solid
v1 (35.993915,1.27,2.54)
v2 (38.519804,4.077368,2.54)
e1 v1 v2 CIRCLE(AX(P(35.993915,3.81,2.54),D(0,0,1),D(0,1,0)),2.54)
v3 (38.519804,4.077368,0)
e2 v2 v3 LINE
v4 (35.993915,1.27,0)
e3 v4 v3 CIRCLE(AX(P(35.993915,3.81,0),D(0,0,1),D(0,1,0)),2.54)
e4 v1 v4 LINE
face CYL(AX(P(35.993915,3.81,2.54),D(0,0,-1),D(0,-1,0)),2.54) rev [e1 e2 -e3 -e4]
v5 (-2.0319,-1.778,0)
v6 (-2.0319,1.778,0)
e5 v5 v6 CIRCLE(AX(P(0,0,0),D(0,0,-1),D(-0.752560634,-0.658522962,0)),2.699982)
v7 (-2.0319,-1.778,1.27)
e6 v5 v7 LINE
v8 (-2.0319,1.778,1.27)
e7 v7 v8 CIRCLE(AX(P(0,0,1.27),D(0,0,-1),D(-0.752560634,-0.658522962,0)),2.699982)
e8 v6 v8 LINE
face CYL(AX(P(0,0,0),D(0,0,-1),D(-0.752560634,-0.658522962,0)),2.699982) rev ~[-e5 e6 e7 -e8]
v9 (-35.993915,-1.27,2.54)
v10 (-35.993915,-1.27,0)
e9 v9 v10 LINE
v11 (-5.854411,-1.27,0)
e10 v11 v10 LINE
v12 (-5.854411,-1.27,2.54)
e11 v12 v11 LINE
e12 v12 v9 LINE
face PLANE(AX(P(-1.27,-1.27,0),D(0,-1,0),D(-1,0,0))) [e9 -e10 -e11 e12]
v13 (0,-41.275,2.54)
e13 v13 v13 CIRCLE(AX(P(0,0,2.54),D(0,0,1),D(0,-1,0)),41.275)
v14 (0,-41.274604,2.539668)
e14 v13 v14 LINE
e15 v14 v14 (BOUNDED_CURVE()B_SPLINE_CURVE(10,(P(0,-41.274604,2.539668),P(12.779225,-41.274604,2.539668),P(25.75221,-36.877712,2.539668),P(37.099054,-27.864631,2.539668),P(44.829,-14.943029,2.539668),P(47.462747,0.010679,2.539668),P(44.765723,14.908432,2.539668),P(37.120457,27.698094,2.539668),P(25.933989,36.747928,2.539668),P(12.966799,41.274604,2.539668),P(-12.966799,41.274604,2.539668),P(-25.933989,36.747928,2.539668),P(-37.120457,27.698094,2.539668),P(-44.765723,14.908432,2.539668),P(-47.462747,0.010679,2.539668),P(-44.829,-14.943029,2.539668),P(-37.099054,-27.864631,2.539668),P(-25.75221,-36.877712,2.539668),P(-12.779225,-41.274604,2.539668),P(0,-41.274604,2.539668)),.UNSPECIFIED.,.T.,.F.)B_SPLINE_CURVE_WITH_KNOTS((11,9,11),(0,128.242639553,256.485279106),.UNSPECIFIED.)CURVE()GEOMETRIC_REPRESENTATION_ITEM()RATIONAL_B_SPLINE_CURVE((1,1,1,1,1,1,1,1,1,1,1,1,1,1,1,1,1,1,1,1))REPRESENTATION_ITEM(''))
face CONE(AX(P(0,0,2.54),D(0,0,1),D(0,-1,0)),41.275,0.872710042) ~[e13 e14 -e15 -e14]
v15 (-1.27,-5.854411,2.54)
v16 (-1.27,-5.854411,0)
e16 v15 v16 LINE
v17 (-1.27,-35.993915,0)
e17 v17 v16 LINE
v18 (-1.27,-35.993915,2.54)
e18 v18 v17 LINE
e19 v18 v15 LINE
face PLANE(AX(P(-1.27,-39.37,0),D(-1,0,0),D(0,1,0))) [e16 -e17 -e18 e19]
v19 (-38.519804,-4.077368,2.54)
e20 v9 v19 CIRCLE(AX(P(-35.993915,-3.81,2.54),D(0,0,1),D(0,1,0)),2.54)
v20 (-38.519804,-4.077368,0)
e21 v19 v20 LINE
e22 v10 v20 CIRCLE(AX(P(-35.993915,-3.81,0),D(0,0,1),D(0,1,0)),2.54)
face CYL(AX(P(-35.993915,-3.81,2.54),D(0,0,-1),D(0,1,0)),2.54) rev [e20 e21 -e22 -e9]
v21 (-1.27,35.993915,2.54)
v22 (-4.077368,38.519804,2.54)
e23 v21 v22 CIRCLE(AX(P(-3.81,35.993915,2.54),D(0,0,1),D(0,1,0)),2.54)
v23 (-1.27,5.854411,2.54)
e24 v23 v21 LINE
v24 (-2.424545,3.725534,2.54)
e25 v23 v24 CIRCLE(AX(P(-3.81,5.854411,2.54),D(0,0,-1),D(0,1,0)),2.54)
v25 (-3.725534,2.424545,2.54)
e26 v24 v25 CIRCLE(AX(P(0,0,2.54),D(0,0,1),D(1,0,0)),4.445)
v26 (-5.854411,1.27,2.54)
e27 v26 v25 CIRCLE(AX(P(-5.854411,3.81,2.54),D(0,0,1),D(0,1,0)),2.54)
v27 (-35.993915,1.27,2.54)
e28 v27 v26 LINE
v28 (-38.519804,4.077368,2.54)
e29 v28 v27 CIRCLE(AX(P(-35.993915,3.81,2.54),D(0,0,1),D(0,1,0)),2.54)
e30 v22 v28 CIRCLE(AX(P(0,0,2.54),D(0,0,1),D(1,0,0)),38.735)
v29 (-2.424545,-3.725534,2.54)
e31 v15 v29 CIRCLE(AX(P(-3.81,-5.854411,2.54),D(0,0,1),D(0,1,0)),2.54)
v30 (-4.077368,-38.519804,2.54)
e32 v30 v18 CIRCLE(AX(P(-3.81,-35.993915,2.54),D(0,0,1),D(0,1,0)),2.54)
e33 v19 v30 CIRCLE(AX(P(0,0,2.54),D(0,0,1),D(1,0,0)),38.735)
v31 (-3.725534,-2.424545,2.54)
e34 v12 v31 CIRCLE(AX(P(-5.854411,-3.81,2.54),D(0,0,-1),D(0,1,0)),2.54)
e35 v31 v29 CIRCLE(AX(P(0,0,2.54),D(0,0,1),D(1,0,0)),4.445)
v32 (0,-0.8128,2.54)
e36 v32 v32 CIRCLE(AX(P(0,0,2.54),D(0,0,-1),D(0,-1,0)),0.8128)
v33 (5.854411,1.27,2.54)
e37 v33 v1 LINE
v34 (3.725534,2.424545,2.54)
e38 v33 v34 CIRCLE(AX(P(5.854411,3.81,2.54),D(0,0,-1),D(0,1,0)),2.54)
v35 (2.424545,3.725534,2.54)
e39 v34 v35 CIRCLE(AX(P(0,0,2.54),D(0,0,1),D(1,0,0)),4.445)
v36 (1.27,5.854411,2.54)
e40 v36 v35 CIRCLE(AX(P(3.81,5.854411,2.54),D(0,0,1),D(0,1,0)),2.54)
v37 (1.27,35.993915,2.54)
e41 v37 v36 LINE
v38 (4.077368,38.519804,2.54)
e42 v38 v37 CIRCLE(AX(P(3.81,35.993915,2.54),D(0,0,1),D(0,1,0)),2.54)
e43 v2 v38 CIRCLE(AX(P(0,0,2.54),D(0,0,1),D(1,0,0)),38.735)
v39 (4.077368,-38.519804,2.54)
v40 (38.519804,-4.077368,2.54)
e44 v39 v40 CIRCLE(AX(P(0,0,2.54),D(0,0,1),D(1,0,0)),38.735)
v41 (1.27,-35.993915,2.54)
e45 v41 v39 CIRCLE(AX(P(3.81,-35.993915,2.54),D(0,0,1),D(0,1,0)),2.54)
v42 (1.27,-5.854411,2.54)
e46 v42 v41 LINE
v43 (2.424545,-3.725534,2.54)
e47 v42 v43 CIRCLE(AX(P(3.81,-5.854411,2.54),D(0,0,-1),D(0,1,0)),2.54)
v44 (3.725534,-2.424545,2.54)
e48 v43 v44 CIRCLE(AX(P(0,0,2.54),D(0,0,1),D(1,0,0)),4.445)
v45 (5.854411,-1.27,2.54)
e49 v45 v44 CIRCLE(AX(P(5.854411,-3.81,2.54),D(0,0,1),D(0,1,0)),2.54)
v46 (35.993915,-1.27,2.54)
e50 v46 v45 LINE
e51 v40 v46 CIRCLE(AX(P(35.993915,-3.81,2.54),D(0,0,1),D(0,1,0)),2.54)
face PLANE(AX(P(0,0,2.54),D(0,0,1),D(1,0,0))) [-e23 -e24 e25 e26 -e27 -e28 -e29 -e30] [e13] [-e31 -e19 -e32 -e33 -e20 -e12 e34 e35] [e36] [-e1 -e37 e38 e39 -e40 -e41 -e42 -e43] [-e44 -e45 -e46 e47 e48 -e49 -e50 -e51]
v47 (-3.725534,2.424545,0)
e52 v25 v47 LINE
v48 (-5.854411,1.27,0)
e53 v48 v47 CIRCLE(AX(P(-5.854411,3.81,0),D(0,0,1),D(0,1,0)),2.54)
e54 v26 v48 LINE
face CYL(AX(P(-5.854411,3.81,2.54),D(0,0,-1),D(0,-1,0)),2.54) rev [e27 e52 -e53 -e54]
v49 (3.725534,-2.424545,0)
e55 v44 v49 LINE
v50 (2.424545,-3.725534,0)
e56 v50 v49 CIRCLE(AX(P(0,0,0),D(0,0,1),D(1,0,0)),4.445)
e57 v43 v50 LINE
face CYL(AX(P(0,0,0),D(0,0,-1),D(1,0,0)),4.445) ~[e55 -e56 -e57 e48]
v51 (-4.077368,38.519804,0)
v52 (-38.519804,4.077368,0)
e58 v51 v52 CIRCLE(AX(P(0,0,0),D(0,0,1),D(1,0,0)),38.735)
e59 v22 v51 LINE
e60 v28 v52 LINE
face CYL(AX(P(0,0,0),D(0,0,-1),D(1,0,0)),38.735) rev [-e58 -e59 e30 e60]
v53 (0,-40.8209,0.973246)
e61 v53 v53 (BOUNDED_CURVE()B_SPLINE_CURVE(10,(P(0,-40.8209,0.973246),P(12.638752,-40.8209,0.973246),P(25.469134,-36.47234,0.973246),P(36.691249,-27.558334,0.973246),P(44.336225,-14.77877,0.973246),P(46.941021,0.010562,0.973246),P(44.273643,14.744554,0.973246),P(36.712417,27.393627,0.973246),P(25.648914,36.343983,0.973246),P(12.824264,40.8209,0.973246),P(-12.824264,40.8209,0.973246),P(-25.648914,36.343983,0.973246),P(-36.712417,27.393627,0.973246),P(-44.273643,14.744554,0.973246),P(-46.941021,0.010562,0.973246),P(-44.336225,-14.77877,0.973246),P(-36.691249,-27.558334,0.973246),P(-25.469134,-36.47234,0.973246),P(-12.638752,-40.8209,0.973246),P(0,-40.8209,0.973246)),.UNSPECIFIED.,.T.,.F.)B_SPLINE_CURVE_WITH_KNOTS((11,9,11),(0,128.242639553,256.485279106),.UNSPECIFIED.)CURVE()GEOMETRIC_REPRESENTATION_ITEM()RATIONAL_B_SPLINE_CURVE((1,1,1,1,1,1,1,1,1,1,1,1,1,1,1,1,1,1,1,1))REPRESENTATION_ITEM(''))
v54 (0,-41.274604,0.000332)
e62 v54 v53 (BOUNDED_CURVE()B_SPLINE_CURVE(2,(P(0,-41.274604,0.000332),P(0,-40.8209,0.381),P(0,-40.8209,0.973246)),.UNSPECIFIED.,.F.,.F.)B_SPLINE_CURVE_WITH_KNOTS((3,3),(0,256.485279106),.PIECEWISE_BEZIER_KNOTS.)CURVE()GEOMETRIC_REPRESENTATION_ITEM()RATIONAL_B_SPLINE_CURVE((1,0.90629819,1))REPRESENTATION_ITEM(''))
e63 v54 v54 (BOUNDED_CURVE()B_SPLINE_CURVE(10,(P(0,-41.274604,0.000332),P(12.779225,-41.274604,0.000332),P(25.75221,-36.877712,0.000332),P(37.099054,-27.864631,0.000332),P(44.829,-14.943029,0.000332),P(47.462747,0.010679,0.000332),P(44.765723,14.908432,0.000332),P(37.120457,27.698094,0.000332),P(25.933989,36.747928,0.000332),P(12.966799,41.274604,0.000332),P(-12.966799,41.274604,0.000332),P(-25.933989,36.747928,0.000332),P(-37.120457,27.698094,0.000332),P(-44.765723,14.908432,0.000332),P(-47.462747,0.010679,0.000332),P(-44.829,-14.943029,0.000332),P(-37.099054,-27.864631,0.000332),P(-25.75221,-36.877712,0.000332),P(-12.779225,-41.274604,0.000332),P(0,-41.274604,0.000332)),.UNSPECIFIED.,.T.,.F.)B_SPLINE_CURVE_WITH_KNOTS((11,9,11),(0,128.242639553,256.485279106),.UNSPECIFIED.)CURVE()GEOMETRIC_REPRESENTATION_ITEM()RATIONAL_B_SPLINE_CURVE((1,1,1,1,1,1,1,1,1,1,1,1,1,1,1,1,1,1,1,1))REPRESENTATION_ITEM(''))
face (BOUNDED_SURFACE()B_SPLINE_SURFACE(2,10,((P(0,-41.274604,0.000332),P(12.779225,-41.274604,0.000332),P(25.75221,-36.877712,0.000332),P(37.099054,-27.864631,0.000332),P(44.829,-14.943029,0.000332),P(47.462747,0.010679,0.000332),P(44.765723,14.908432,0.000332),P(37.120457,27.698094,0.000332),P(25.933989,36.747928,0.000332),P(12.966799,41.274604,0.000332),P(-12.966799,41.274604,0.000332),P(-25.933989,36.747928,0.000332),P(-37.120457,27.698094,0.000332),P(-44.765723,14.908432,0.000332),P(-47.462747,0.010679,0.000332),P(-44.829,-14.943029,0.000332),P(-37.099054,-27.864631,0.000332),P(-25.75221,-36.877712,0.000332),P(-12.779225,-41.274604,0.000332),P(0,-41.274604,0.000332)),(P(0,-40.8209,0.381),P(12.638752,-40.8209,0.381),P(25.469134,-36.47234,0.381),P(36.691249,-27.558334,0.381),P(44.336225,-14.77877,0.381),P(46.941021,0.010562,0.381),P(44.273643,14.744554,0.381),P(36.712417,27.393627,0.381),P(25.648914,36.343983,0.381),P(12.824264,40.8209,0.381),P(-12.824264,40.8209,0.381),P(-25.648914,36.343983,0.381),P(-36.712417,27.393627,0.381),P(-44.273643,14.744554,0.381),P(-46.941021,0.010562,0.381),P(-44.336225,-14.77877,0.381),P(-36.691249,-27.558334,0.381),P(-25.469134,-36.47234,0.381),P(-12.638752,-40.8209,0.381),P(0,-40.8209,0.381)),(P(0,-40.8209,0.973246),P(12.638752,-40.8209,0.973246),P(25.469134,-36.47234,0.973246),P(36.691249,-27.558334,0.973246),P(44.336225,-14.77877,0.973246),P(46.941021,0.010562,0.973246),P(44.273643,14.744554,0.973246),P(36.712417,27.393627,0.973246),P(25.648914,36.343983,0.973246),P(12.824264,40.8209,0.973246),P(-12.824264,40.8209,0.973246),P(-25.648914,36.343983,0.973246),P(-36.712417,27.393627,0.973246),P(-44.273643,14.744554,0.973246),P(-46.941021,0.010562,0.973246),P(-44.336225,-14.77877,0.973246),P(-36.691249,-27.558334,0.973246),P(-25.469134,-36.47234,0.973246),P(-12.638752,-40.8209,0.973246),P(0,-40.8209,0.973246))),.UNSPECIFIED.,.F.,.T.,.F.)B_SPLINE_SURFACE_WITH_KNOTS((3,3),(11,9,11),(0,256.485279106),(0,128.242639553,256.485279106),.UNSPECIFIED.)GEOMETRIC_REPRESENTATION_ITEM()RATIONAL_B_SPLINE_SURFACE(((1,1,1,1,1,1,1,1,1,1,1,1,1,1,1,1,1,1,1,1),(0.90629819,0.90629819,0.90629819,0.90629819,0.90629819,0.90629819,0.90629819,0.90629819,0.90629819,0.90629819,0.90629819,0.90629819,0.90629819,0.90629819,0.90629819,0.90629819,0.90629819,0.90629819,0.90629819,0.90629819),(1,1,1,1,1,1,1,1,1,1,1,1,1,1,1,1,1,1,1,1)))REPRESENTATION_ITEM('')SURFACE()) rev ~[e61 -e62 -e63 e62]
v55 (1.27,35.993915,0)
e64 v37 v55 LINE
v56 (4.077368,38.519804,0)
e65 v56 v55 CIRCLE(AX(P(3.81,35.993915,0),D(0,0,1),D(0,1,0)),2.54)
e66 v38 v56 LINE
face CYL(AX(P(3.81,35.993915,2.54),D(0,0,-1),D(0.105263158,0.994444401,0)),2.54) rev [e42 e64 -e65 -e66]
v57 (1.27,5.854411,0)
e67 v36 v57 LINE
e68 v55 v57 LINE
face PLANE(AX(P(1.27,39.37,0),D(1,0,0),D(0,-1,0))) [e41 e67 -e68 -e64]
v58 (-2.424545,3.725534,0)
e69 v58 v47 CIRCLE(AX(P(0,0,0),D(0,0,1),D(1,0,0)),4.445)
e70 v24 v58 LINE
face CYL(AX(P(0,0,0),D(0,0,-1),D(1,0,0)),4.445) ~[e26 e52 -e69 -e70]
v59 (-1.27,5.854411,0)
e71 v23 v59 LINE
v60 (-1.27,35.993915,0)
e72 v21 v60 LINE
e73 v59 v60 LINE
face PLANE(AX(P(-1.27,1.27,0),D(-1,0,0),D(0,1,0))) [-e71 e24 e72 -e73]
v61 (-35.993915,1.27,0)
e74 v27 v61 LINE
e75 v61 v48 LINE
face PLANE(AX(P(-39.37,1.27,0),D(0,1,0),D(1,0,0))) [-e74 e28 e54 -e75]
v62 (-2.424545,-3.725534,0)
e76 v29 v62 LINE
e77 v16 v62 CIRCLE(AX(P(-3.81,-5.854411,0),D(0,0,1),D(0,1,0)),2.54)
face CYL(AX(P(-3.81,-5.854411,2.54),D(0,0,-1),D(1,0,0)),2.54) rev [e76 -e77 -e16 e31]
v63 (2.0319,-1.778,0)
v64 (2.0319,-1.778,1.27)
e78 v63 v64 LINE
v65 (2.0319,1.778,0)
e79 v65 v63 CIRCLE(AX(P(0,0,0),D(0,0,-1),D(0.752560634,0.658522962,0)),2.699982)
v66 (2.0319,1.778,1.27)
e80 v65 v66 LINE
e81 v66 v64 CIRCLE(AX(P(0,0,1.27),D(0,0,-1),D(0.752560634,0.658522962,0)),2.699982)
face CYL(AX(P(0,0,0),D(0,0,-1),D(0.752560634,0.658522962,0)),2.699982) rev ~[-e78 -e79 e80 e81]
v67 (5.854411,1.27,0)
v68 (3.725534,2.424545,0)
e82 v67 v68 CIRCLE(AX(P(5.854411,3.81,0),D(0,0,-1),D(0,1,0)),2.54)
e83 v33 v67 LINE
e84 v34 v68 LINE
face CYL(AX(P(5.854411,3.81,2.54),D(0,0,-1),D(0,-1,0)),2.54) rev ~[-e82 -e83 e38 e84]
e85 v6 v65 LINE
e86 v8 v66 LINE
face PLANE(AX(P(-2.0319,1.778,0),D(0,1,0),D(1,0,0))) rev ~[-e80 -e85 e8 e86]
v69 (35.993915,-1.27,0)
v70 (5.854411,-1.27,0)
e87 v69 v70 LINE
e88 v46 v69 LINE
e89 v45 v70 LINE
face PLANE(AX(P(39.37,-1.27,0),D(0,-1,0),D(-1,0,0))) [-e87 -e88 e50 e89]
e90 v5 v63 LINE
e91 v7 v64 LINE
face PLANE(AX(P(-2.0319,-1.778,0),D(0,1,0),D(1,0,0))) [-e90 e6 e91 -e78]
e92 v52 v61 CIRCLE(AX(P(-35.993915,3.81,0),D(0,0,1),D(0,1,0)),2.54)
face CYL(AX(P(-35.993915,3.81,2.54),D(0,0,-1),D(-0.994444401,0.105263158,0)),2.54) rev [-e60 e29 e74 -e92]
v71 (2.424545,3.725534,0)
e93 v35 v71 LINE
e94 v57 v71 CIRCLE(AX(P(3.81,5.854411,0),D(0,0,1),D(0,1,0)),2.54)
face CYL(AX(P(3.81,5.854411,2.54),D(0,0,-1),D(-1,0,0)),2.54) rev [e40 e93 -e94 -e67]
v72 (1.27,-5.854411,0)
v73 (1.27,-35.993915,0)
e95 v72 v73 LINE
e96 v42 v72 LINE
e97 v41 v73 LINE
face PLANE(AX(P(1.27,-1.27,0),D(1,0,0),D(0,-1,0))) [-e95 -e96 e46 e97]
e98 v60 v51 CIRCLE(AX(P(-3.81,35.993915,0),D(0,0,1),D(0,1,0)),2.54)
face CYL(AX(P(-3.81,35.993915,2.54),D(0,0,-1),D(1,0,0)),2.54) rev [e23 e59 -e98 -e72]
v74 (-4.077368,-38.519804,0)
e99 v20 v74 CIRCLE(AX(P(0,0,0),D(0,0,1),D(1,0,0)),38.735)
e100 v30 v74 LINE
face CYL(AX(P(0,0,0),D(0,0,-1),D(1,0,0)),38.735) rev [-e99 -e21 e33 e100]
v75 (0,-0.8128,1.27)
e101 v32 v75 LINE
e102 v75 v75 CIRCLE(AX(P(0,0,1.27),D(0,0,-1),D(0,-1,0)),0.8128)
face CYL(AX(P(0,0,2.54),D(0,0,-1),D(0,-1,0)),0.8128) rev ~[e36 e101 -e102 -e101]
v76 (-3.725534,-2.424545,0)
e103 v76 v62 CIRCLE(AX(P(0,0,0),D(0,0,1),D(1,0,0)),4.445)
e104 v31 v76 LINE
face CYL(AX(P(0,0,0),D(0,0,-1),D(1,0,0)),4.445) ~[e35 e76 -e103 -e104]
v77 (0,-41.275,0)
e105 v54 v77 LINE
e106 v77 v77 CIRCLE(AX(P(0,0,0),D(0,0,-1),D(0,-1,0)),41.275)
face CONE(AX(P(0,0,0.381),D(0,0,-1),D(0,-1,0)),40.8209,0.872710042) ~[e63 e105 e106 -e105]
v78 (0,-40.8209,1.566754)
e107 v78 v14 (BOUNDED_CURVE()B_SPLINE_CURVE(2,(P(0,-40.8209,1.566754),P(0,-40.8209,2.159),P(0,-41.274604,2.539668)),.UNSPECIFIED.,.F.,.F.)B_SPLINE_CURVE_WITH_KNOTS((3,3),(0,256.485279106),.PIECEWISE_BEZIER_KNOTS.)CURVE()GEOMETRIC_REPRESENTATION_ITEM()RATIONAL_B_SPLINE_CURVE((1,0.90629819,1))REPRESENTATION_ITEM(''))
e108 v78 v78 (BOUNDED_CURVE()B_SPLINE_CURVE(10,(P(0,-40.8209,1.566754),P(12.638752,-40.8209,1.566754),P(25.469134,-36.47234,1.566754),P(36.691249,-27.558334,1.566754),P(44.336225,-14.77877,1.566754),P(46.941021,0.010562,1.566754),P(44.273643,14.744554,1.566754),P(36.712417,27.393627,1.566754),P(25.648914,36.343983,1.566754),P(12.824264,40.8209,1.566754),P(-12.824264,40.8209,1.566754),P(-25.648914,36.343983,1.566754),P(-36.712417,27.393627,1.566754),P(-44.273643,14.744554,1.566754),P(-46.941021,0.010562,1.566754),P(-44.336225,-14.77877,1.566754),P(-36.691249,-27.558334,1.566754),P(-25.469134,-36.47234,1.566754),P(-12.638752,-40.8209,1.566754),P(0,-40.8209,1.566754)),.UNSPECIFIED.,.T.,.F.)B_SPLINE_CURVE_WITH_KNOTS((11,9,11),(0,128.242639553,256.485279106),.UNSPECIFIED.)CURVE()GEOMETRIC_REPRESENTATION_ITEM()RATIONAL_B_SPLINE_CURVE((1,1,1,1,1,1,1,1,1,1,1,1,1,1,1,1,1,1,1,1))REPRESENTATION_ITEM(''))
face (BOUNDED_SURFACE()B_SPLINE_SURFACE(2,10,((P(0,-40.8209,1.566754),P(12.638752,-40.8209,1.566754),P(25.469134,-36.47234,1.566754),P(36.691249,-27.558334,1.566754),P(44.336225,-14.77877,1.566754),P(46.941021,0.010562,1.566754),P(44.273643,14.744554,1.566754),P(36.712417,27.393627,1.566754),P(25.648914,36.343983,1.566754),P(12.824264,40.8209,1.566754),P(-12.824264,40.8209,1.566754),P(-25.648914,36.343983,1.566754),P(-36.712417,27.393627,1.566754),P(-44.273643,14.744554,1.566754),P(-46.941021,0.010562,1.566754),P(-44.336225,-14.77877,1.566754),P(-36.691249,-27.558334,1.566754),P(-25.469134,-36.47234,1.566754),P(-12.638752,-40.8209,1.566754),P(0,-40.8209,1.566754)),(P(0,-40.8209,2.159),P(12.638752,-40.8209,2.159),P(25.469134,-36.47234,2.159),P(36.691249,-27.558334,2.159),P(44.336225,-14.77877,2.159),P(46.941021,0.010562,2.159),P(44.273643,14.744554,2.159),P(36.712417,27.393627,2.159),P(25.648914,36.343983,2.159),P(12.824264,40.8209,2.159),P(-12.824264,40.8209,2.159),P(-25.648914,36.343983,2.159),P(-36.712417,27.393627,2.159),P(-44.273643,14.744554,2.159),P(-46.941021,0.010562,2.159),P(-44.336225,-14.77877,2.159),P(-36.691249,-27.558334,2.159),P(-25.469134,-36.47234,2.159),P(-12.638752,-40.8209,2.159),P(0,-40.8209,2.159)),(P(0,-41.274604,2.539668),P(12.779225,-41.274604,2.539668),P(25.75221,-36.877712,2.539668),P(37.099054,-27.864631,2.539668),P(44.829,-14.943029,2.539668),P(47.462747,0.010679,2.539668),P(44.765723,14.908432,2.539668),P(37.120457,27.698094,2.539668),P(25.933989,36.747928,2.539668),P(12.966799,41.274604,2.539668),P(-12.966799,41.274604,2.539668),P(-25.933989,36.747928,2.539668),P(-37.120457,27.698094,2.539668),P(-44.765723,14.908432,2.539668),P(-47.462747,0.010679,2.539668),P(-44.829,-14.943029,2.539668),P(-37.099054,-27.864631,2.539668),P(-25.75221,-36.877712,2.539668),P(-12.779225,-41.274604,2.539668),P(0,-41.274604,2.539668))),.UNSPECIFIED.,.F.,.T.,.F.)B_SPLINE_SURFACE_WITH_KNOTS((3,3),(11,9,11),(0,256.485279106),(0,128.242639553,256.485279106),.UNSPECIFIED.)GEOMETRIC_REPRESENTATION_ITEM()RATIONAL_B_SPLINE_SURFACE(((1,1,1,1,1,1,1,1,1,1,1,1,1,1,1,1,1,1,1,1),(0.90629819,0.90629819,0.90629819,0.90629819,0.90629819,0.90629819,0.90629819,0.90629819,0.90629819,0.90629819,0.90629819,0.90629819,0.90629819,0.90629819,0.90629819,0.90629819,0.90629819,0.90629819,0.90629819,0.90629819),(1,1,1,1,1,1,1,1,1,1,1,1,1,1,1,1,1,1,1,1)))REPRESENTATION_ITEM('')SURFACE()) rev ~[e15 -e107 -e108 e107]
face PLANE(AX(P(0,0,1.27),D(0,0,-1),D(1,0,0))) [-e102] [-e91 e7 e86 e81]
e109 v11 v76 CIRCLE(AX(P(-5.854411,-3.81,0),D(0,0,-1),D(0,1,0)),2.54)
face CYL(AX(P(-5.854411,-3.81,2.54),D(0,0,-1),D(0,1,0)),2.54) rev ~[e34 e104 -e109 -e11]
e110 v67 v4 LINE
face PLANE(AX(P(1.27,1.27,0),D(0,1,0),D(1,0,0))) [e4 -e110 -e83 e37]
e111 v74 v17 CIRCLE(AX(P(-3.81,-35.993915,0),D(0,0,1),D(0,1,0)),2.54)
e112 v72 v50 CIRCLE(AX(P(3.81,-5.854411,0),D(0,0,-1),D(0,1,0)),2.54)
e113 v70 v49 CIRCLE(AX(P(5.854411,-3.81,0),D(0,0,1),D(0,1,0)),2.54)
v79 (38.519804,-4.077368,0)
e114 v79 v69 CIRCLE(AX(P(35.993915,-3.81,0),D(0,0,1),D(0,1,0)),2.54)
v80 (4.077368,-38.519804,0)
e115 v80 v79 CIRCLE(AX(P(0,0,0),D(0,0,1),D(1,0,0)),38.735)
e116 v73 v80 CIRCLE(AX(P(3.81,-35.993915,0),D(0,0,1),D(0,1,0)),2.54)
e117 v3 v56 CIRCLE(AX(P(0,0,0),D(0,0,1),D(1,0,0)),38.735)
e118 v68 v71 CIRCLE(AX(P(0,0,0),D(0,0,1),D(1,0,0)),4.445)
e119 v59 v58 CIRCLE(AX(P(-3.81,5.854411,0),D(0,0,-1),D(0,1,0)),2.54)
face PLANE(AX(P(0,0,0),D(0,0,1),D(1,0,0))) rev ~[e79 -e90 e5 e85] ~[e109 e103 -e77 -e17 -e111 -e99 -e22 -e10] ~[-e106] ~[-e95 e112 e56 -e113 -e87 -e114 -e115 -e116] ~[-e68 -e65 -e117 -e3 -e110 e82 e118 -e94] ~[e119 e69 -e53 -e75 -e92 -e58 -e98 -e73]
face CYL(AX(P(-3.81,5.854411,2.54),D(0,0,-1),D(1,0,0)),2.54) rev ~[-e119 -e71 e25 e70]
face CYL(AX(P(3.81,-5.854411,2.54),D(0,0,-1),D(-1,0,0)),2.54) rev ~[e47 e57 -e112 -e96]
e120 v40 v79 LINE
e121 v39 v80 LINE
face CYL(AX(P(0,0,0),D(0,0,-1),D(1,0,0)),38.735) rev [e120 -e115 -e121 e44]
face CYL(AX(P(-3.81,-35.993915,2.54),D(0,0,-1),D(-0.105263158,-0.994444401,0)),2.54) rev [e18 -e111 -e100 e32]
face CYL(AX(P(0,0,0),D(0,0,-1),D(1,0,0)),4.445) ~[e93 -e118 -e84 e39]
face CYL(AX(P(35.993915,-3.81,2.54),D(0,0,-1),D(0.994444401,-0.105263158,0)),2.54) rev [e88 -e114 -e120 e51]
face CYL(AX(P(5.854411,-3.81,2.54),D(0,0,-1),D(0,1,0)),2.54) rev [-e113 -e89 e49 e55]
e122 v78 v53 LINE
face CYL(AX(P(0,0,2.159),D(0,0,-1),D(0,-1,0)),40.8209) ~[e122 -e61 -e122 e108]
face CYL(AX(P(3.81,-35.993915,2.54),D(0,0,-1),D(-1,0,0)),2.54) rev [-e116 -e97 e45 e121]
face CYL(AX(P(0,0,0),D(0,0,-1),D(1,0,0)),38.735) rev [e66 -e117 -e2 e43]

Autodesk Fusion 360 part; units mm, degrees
sketch "Sketch1" plane through (0, 0, 0) normal (0, 0, 1) x (1, 0, 0)
  circle A0 centre (0, 0) radius 41.275
  circle A1 centre (0, 0) radius 38.735
  circle A2 centre (0, 0) radius 4.445
  dimension "d1" = 82.55
  dimension "d2" = 77.47
  dimension "d5" = 8.89
extrude "Extrude1" add sketch "Sketch1" along normal blind 2.54 makes body 1 at (41.2237, -2.0574, 1.6933) makes body 2 at (4.4229, -0.4426, 0.8467)
sketch "Sketch4" plane through (0, 0, 0) normal (0, 0, 1) x (1, 0, 0)
  line L0 (-1.27, 39.37) -> (1.27, 39.37)
  line L1 (1.27, 39.37) -> (1.27, 1.27)
  line L2 (1.27, 1.27) -> (-1.27, 1.27)
  line L3 (-1.27, 1.27) -> (-1.27, 39.37)
  dimension "d12" = 2.54
  dimension "d13" = 1.27
  dimension "d14" = 38.1
  dimension "d15" = 1.27
extrude "Extrude3" add sketch "Sketch4" along normal blind 2.54 separate body makes body 3
pattern_circular "C-Pattern1" count 4 over 360 about axis through (0, 0, 1.75) along (0, 0, 1) of bodies 3 makes body 4 at (-26.67, 1.27, 0.8467) makes body 5 at (-1.27, -26.67, 0.8467) makes body 6 at (26.67, -1.27, 0.8467)
combine "Combine1" operation add target body 3 tool bodies 1 2 6 5 4
fillet "Fillet1" radius 2.54 8 edges at (4.2597, 1.27, 1.27) (1.27, 4.2597, 1.27) (-1.27, 4.2597, 1.27) (-4.2597, 1.27, 1.27) (-4.2597, -1.27, 1.27) (-1.27, -4.2597, 1.27) (1.27, -4.2597, 1.27) (4.2597, -1.27, 1.27) on bodies 3
fillet "Fillet2" radius 2.54 8 edges at (1.27, -38.7142, 1.27) (-1.27, -38.7142, 1.27) (-38.7142, -1.27, 1.27) (-38.7142, 1.27, 1.27) (-1.27, 38.7142, 1.27) (1.27, 38.7142, 1.27) (38.7142, 1.27, 1.27) (38.7142, -1.27, 1.27) on bodies 3
sketch "Sketch5" plane through (0, 0, 0) normal (1, 0, 0) x (0, 1, 0)
  line L0 (-41.275, 2.54) -> (-40.8209, 2.159)
  line L1 (-40.8209, 2.159) -> (-40.8209, 0.381)
  line L2 (-40.8209, 0.381) -> (-41.275, 0)
  line L3 (-41.275, 2.54) -> (-41.275, 0)
  dimension "d24" = 1.778
  dimension "d25" = 2.54
  dimension "d26" = 130
  dimension "d27" = 130
  dimension "d28" = 41.275
revolve "Revolve1" cut sketch "Sketch5" angle 360 about axis through (0, 0, 1.75) along (0, 0, 1) bodies 3
hole "Hole1" at (0, 0, 2.54) direction (0, 0, -1) diameter 1.6256 depth 6.35 tip angle 118 bodies 3
sketch "Sketch6" plane through (0, 0, 2.54) normal (0, 0, 1) x (-1, 0, 0)
  circle A0 centre (0, 0) radius 0.8115
  arc A1 (4.0774, -38.5198) -> (38.5198, -4.0774) centre (0, 0) ccw
  arc A2 (1.27, -35.9939) -> (4.0774, -38.5198) centre (3.81, -35.9939) ccw
  line L0 (1.27, -35.9939) -> (1.27, -5.8544)
  arc A3 (2.4245, -3.7255) -> (1.27, -5.8544) centre (3.81, -5.8544) ccw
  arc A4 (2.4245, -3.7255) -> (3.7255, -2.4245) centre (0, 0) ccw
  arc A5 (5.8544, -1.27) -> (3.7255, -2.4245) centre (5.8544, -3.81) ccw
  line L1 (5.8544, -1.27) -> (35.9939, -1.27)
  arc A6 (38.5198, -4.0774) -> (35.9939, -1.27) centre (35.9939, -3.81) ccw
  line L2 (-35.9939, -1.27) -> (-5.8544, -1.27)
  arc A7 (-3.7255, -2.4245) -> (-5.8544, -1.27) centre (-5.8544, -3.81) ccw
  arc A8 (-3.7255, -2.4245) -> (-2.4245, -3.7255) centre (0, 0) ccw
  arc A9 (-1.27, -5.8544) -> (-2.4245, -3.7255) centre (-3.81, -5.8544) ccw
  line L3 (-1.27, -5.8544) -> (-1.27, -35.9939)
  arc A10 (-4.0774, -38.5198) -> (-1.27, -35.9939) centre (-3.81, -35.9939) ccw
  arc A11 (-38.5198, -4.0774) -> (-4.0774, -38.5198) centre (0, 0) ccw
  arc A12 (-35.9939, -1.27) -> (-38.5198, -4.0774) centre (-35.9939, -3.81) ccw
  circle A13 centre (0, 0) radius 41.275
  line L4 (-1.27, 35.9939) -> (-1.27, 5.8544)
  arc A14 (-2.4245, 3.7255) -> (-1.27, 5.8544) centre (-3.81, 5.8544) ccw
  arc A15 (-2.4245, 3.7255) -> (-3.7255, 2.4245) centre (0, 0) ccw
  arc A16 (-5.8544, 1.27) -> (-3.7255, 2.4245) centre (-5.8544, 3.81) ccw
  line L5 (-5.8544, 1.27) -> (-35.9939, 1.27)
  arc A17 (-38.5198, 4.0774) -> (-35.9939, 1.27) centre (-35.9939, 3.81) ccw
  arc A18 (-4.0774, 38.5198) -> (-38.5198, 4.0774) centre (0, 0) ccw
  arc A19 (-1.27, 35.9939) -> (-4.0774, 38.5198) centre (-3.81, 35.9939) ccw
  line L6 (35.9939, 1.27) -> (5.8544, 1.27)
  arc A20 (3.7255, 2.4245) -> (5.8544, 1.27) centre (5.8544, 3.81) ccw
  arc A21 (3.7255, 2.4245) -> (2.4245, 3.7255) centre (0, 0) ccw
  arc A22 (1.27, 5.8544) -> (2.4245, 3.7255) centre (3.81, 5.8544) ccw
  line L7 (1.27, 5.8544) -> (1.27, 35.9939)
  arc A23 (4.0774, 38.5198) -> (1.27, 35.9939) centre (3.81, 35.9939) ccw
  arc A24 (38.5198, 4.0774) -> (4.0774, 38.5198) centre (0, 0) ccw
  arc A25 (35.9939, 1.27) -> (38.5198, 4.0774) centre (35.9939, 3.81) ccw
fillet "Fillet3" radius 1.27 2 edges at (-38.0585, -14.7615, 2.159) (-38.0585, -14.7615, 0.381) on bodies 3
sketch "Sketch8" plane through (0, 0, 0) normal (0, 0, -1) x (1, 0, 0)
  circle A0 centre (0, 0) radius 0.8115
  arc A1 (-1.27, 35.9939) -> (-4.0774, 38.5198) centre (-3.81, 35.9939) ccw
  line L0 (-1.27, 35.9939) -> (-1.27, 5.8544)
  arc A2 (-2.4245, 3.7255) -> (-1.27, 5.8544) centre (-3.81, 5.8544) ccw
  arc A3 (-2.4245, 3.7255) -> (-3.7255, 2.4245) centre (0, 0) ccw
  arc A4 (-5.8544, 1.27) -> (-3.7255, 2.4245) centre (-5.8544, 3.81) ccw
  line L1 (-5.8544, 1.27) -> (-35.9939, 1.27)
  arc A5 (-38.5198, 4.0774) -> (-35.9939, 1.27) centre (-35.9939, 3.81) ccw
  arc A6 (-4.0774, 38.5198) -> (-38.5198, 4.0774) centre (0, 0) ccw
  line L2 (-35.9939, -1.27) -> (-5.8544, -1.27)
  arc A7 (-3.7255, -2.4245) -> (-5.8544, -1.27) centre (-5.8544, -3.81) ccw
  arc A8 (-3.7255, -2.4245) -> (-2.4245, -3.7255) centre (0, 0) ccw
  arc A9 (-1.27, -5.8544) -> (-2.4245, -3.7255) centre (-3.81, -5.8544) ccw
  line L3 (-1.27, -5.8544) -> (-1.27, -35.9939)
  arc A10 (-4.0774, -38.5198) -> (-1.27, -35.9939) centre (-3.81, -35.9939) ccw
  arc A11 (-38.5198, -4.0774) -> (-4.0774, -38.5198) centre (0, 0) ccw
  arc A12 (-35.9939, -1.27) -> (-38.5198, -4.0774) centre (-35.9939, -3.81) ccw
  arc A13 (35.9939, 1.27) -> (38.5198, 4.0774) centre (35.9939, 3.81) ccw
  line L4 (35.9939, 1.27) -> (5.8544, 1.27)
  arc A14 (3.7255, 2.4245) -> (5.8544, 1.27) centre (5.8544, 3.81) ccw
  arc A15 (3.7255, 2.4245) -> (2.4245, 3.7255) centre (0, 0) ccw
  arc A16 (1.27, 5.8544) -> (2.4245, 3.7255) centre (3.81, 5.8544) ccw
  line L5 (1.27, 5.8544) -> (1.27, 35.9939)
  arc A17 (4.0774, 38.5198) -> (1.27, 35.9939) centre (3.81, 35.9939) ccw
  arc A18 (38.5198, 4.0774) -> (4.0774, 38.5198) centre (0, 0) ccw
  line L6 (1.27, -35.9939) -> (1.27, -5.8544)
  arc A19 (2.4245, -3.7255) -> (1.27, -5.8544) centre (3.81, -5.8544) ccw
  arc A20 (2.4245, -3.7255) -> (3.7255, -2.4245) centre (0, 0) ccw
  arc A21 (5.8544, -1.27) -> (3.7255, -2.4245) centre (5.8544, -3.81) ccw
  line L7 (5.8544, -1.27) -> (35.9939, -1.27)
  arc A22 (38.5198, -4.0774) -> (35.9939, -1.27) centre (35.9939, -3.81) ccw
  arc A23 (4.0774, -38.5198) -> (38.5198, -4.0774) centre (0, 0) ccw
  arc A24 (1.27, -35.9939) -> (4.0774, -38.5198) centre (3.81, -35.9939) ccw
  circle A25 centre (0, 0) radius 41.275
  line L8 (-2.0319, 1.778) -> (2.0319, 1.778)
  line L9 (-2.0319, -1.778) -> (2.0319, -1.778)
  arc A26 (-2.0319, 1.778) -> (-2.0319, -1.778) centre (0, 0) ccw
  arc A27 (2.0319, -1.778) -> (2.0319, 1.778) centre (0, 0) ccw
  dimension "d42" = 5.4
  dimension "d43" = 3.556
extrude "Extrude4" cut sketch "Sketch8" against normal blind 1.27 contours L8 L9 A26 A27 bodies 3
